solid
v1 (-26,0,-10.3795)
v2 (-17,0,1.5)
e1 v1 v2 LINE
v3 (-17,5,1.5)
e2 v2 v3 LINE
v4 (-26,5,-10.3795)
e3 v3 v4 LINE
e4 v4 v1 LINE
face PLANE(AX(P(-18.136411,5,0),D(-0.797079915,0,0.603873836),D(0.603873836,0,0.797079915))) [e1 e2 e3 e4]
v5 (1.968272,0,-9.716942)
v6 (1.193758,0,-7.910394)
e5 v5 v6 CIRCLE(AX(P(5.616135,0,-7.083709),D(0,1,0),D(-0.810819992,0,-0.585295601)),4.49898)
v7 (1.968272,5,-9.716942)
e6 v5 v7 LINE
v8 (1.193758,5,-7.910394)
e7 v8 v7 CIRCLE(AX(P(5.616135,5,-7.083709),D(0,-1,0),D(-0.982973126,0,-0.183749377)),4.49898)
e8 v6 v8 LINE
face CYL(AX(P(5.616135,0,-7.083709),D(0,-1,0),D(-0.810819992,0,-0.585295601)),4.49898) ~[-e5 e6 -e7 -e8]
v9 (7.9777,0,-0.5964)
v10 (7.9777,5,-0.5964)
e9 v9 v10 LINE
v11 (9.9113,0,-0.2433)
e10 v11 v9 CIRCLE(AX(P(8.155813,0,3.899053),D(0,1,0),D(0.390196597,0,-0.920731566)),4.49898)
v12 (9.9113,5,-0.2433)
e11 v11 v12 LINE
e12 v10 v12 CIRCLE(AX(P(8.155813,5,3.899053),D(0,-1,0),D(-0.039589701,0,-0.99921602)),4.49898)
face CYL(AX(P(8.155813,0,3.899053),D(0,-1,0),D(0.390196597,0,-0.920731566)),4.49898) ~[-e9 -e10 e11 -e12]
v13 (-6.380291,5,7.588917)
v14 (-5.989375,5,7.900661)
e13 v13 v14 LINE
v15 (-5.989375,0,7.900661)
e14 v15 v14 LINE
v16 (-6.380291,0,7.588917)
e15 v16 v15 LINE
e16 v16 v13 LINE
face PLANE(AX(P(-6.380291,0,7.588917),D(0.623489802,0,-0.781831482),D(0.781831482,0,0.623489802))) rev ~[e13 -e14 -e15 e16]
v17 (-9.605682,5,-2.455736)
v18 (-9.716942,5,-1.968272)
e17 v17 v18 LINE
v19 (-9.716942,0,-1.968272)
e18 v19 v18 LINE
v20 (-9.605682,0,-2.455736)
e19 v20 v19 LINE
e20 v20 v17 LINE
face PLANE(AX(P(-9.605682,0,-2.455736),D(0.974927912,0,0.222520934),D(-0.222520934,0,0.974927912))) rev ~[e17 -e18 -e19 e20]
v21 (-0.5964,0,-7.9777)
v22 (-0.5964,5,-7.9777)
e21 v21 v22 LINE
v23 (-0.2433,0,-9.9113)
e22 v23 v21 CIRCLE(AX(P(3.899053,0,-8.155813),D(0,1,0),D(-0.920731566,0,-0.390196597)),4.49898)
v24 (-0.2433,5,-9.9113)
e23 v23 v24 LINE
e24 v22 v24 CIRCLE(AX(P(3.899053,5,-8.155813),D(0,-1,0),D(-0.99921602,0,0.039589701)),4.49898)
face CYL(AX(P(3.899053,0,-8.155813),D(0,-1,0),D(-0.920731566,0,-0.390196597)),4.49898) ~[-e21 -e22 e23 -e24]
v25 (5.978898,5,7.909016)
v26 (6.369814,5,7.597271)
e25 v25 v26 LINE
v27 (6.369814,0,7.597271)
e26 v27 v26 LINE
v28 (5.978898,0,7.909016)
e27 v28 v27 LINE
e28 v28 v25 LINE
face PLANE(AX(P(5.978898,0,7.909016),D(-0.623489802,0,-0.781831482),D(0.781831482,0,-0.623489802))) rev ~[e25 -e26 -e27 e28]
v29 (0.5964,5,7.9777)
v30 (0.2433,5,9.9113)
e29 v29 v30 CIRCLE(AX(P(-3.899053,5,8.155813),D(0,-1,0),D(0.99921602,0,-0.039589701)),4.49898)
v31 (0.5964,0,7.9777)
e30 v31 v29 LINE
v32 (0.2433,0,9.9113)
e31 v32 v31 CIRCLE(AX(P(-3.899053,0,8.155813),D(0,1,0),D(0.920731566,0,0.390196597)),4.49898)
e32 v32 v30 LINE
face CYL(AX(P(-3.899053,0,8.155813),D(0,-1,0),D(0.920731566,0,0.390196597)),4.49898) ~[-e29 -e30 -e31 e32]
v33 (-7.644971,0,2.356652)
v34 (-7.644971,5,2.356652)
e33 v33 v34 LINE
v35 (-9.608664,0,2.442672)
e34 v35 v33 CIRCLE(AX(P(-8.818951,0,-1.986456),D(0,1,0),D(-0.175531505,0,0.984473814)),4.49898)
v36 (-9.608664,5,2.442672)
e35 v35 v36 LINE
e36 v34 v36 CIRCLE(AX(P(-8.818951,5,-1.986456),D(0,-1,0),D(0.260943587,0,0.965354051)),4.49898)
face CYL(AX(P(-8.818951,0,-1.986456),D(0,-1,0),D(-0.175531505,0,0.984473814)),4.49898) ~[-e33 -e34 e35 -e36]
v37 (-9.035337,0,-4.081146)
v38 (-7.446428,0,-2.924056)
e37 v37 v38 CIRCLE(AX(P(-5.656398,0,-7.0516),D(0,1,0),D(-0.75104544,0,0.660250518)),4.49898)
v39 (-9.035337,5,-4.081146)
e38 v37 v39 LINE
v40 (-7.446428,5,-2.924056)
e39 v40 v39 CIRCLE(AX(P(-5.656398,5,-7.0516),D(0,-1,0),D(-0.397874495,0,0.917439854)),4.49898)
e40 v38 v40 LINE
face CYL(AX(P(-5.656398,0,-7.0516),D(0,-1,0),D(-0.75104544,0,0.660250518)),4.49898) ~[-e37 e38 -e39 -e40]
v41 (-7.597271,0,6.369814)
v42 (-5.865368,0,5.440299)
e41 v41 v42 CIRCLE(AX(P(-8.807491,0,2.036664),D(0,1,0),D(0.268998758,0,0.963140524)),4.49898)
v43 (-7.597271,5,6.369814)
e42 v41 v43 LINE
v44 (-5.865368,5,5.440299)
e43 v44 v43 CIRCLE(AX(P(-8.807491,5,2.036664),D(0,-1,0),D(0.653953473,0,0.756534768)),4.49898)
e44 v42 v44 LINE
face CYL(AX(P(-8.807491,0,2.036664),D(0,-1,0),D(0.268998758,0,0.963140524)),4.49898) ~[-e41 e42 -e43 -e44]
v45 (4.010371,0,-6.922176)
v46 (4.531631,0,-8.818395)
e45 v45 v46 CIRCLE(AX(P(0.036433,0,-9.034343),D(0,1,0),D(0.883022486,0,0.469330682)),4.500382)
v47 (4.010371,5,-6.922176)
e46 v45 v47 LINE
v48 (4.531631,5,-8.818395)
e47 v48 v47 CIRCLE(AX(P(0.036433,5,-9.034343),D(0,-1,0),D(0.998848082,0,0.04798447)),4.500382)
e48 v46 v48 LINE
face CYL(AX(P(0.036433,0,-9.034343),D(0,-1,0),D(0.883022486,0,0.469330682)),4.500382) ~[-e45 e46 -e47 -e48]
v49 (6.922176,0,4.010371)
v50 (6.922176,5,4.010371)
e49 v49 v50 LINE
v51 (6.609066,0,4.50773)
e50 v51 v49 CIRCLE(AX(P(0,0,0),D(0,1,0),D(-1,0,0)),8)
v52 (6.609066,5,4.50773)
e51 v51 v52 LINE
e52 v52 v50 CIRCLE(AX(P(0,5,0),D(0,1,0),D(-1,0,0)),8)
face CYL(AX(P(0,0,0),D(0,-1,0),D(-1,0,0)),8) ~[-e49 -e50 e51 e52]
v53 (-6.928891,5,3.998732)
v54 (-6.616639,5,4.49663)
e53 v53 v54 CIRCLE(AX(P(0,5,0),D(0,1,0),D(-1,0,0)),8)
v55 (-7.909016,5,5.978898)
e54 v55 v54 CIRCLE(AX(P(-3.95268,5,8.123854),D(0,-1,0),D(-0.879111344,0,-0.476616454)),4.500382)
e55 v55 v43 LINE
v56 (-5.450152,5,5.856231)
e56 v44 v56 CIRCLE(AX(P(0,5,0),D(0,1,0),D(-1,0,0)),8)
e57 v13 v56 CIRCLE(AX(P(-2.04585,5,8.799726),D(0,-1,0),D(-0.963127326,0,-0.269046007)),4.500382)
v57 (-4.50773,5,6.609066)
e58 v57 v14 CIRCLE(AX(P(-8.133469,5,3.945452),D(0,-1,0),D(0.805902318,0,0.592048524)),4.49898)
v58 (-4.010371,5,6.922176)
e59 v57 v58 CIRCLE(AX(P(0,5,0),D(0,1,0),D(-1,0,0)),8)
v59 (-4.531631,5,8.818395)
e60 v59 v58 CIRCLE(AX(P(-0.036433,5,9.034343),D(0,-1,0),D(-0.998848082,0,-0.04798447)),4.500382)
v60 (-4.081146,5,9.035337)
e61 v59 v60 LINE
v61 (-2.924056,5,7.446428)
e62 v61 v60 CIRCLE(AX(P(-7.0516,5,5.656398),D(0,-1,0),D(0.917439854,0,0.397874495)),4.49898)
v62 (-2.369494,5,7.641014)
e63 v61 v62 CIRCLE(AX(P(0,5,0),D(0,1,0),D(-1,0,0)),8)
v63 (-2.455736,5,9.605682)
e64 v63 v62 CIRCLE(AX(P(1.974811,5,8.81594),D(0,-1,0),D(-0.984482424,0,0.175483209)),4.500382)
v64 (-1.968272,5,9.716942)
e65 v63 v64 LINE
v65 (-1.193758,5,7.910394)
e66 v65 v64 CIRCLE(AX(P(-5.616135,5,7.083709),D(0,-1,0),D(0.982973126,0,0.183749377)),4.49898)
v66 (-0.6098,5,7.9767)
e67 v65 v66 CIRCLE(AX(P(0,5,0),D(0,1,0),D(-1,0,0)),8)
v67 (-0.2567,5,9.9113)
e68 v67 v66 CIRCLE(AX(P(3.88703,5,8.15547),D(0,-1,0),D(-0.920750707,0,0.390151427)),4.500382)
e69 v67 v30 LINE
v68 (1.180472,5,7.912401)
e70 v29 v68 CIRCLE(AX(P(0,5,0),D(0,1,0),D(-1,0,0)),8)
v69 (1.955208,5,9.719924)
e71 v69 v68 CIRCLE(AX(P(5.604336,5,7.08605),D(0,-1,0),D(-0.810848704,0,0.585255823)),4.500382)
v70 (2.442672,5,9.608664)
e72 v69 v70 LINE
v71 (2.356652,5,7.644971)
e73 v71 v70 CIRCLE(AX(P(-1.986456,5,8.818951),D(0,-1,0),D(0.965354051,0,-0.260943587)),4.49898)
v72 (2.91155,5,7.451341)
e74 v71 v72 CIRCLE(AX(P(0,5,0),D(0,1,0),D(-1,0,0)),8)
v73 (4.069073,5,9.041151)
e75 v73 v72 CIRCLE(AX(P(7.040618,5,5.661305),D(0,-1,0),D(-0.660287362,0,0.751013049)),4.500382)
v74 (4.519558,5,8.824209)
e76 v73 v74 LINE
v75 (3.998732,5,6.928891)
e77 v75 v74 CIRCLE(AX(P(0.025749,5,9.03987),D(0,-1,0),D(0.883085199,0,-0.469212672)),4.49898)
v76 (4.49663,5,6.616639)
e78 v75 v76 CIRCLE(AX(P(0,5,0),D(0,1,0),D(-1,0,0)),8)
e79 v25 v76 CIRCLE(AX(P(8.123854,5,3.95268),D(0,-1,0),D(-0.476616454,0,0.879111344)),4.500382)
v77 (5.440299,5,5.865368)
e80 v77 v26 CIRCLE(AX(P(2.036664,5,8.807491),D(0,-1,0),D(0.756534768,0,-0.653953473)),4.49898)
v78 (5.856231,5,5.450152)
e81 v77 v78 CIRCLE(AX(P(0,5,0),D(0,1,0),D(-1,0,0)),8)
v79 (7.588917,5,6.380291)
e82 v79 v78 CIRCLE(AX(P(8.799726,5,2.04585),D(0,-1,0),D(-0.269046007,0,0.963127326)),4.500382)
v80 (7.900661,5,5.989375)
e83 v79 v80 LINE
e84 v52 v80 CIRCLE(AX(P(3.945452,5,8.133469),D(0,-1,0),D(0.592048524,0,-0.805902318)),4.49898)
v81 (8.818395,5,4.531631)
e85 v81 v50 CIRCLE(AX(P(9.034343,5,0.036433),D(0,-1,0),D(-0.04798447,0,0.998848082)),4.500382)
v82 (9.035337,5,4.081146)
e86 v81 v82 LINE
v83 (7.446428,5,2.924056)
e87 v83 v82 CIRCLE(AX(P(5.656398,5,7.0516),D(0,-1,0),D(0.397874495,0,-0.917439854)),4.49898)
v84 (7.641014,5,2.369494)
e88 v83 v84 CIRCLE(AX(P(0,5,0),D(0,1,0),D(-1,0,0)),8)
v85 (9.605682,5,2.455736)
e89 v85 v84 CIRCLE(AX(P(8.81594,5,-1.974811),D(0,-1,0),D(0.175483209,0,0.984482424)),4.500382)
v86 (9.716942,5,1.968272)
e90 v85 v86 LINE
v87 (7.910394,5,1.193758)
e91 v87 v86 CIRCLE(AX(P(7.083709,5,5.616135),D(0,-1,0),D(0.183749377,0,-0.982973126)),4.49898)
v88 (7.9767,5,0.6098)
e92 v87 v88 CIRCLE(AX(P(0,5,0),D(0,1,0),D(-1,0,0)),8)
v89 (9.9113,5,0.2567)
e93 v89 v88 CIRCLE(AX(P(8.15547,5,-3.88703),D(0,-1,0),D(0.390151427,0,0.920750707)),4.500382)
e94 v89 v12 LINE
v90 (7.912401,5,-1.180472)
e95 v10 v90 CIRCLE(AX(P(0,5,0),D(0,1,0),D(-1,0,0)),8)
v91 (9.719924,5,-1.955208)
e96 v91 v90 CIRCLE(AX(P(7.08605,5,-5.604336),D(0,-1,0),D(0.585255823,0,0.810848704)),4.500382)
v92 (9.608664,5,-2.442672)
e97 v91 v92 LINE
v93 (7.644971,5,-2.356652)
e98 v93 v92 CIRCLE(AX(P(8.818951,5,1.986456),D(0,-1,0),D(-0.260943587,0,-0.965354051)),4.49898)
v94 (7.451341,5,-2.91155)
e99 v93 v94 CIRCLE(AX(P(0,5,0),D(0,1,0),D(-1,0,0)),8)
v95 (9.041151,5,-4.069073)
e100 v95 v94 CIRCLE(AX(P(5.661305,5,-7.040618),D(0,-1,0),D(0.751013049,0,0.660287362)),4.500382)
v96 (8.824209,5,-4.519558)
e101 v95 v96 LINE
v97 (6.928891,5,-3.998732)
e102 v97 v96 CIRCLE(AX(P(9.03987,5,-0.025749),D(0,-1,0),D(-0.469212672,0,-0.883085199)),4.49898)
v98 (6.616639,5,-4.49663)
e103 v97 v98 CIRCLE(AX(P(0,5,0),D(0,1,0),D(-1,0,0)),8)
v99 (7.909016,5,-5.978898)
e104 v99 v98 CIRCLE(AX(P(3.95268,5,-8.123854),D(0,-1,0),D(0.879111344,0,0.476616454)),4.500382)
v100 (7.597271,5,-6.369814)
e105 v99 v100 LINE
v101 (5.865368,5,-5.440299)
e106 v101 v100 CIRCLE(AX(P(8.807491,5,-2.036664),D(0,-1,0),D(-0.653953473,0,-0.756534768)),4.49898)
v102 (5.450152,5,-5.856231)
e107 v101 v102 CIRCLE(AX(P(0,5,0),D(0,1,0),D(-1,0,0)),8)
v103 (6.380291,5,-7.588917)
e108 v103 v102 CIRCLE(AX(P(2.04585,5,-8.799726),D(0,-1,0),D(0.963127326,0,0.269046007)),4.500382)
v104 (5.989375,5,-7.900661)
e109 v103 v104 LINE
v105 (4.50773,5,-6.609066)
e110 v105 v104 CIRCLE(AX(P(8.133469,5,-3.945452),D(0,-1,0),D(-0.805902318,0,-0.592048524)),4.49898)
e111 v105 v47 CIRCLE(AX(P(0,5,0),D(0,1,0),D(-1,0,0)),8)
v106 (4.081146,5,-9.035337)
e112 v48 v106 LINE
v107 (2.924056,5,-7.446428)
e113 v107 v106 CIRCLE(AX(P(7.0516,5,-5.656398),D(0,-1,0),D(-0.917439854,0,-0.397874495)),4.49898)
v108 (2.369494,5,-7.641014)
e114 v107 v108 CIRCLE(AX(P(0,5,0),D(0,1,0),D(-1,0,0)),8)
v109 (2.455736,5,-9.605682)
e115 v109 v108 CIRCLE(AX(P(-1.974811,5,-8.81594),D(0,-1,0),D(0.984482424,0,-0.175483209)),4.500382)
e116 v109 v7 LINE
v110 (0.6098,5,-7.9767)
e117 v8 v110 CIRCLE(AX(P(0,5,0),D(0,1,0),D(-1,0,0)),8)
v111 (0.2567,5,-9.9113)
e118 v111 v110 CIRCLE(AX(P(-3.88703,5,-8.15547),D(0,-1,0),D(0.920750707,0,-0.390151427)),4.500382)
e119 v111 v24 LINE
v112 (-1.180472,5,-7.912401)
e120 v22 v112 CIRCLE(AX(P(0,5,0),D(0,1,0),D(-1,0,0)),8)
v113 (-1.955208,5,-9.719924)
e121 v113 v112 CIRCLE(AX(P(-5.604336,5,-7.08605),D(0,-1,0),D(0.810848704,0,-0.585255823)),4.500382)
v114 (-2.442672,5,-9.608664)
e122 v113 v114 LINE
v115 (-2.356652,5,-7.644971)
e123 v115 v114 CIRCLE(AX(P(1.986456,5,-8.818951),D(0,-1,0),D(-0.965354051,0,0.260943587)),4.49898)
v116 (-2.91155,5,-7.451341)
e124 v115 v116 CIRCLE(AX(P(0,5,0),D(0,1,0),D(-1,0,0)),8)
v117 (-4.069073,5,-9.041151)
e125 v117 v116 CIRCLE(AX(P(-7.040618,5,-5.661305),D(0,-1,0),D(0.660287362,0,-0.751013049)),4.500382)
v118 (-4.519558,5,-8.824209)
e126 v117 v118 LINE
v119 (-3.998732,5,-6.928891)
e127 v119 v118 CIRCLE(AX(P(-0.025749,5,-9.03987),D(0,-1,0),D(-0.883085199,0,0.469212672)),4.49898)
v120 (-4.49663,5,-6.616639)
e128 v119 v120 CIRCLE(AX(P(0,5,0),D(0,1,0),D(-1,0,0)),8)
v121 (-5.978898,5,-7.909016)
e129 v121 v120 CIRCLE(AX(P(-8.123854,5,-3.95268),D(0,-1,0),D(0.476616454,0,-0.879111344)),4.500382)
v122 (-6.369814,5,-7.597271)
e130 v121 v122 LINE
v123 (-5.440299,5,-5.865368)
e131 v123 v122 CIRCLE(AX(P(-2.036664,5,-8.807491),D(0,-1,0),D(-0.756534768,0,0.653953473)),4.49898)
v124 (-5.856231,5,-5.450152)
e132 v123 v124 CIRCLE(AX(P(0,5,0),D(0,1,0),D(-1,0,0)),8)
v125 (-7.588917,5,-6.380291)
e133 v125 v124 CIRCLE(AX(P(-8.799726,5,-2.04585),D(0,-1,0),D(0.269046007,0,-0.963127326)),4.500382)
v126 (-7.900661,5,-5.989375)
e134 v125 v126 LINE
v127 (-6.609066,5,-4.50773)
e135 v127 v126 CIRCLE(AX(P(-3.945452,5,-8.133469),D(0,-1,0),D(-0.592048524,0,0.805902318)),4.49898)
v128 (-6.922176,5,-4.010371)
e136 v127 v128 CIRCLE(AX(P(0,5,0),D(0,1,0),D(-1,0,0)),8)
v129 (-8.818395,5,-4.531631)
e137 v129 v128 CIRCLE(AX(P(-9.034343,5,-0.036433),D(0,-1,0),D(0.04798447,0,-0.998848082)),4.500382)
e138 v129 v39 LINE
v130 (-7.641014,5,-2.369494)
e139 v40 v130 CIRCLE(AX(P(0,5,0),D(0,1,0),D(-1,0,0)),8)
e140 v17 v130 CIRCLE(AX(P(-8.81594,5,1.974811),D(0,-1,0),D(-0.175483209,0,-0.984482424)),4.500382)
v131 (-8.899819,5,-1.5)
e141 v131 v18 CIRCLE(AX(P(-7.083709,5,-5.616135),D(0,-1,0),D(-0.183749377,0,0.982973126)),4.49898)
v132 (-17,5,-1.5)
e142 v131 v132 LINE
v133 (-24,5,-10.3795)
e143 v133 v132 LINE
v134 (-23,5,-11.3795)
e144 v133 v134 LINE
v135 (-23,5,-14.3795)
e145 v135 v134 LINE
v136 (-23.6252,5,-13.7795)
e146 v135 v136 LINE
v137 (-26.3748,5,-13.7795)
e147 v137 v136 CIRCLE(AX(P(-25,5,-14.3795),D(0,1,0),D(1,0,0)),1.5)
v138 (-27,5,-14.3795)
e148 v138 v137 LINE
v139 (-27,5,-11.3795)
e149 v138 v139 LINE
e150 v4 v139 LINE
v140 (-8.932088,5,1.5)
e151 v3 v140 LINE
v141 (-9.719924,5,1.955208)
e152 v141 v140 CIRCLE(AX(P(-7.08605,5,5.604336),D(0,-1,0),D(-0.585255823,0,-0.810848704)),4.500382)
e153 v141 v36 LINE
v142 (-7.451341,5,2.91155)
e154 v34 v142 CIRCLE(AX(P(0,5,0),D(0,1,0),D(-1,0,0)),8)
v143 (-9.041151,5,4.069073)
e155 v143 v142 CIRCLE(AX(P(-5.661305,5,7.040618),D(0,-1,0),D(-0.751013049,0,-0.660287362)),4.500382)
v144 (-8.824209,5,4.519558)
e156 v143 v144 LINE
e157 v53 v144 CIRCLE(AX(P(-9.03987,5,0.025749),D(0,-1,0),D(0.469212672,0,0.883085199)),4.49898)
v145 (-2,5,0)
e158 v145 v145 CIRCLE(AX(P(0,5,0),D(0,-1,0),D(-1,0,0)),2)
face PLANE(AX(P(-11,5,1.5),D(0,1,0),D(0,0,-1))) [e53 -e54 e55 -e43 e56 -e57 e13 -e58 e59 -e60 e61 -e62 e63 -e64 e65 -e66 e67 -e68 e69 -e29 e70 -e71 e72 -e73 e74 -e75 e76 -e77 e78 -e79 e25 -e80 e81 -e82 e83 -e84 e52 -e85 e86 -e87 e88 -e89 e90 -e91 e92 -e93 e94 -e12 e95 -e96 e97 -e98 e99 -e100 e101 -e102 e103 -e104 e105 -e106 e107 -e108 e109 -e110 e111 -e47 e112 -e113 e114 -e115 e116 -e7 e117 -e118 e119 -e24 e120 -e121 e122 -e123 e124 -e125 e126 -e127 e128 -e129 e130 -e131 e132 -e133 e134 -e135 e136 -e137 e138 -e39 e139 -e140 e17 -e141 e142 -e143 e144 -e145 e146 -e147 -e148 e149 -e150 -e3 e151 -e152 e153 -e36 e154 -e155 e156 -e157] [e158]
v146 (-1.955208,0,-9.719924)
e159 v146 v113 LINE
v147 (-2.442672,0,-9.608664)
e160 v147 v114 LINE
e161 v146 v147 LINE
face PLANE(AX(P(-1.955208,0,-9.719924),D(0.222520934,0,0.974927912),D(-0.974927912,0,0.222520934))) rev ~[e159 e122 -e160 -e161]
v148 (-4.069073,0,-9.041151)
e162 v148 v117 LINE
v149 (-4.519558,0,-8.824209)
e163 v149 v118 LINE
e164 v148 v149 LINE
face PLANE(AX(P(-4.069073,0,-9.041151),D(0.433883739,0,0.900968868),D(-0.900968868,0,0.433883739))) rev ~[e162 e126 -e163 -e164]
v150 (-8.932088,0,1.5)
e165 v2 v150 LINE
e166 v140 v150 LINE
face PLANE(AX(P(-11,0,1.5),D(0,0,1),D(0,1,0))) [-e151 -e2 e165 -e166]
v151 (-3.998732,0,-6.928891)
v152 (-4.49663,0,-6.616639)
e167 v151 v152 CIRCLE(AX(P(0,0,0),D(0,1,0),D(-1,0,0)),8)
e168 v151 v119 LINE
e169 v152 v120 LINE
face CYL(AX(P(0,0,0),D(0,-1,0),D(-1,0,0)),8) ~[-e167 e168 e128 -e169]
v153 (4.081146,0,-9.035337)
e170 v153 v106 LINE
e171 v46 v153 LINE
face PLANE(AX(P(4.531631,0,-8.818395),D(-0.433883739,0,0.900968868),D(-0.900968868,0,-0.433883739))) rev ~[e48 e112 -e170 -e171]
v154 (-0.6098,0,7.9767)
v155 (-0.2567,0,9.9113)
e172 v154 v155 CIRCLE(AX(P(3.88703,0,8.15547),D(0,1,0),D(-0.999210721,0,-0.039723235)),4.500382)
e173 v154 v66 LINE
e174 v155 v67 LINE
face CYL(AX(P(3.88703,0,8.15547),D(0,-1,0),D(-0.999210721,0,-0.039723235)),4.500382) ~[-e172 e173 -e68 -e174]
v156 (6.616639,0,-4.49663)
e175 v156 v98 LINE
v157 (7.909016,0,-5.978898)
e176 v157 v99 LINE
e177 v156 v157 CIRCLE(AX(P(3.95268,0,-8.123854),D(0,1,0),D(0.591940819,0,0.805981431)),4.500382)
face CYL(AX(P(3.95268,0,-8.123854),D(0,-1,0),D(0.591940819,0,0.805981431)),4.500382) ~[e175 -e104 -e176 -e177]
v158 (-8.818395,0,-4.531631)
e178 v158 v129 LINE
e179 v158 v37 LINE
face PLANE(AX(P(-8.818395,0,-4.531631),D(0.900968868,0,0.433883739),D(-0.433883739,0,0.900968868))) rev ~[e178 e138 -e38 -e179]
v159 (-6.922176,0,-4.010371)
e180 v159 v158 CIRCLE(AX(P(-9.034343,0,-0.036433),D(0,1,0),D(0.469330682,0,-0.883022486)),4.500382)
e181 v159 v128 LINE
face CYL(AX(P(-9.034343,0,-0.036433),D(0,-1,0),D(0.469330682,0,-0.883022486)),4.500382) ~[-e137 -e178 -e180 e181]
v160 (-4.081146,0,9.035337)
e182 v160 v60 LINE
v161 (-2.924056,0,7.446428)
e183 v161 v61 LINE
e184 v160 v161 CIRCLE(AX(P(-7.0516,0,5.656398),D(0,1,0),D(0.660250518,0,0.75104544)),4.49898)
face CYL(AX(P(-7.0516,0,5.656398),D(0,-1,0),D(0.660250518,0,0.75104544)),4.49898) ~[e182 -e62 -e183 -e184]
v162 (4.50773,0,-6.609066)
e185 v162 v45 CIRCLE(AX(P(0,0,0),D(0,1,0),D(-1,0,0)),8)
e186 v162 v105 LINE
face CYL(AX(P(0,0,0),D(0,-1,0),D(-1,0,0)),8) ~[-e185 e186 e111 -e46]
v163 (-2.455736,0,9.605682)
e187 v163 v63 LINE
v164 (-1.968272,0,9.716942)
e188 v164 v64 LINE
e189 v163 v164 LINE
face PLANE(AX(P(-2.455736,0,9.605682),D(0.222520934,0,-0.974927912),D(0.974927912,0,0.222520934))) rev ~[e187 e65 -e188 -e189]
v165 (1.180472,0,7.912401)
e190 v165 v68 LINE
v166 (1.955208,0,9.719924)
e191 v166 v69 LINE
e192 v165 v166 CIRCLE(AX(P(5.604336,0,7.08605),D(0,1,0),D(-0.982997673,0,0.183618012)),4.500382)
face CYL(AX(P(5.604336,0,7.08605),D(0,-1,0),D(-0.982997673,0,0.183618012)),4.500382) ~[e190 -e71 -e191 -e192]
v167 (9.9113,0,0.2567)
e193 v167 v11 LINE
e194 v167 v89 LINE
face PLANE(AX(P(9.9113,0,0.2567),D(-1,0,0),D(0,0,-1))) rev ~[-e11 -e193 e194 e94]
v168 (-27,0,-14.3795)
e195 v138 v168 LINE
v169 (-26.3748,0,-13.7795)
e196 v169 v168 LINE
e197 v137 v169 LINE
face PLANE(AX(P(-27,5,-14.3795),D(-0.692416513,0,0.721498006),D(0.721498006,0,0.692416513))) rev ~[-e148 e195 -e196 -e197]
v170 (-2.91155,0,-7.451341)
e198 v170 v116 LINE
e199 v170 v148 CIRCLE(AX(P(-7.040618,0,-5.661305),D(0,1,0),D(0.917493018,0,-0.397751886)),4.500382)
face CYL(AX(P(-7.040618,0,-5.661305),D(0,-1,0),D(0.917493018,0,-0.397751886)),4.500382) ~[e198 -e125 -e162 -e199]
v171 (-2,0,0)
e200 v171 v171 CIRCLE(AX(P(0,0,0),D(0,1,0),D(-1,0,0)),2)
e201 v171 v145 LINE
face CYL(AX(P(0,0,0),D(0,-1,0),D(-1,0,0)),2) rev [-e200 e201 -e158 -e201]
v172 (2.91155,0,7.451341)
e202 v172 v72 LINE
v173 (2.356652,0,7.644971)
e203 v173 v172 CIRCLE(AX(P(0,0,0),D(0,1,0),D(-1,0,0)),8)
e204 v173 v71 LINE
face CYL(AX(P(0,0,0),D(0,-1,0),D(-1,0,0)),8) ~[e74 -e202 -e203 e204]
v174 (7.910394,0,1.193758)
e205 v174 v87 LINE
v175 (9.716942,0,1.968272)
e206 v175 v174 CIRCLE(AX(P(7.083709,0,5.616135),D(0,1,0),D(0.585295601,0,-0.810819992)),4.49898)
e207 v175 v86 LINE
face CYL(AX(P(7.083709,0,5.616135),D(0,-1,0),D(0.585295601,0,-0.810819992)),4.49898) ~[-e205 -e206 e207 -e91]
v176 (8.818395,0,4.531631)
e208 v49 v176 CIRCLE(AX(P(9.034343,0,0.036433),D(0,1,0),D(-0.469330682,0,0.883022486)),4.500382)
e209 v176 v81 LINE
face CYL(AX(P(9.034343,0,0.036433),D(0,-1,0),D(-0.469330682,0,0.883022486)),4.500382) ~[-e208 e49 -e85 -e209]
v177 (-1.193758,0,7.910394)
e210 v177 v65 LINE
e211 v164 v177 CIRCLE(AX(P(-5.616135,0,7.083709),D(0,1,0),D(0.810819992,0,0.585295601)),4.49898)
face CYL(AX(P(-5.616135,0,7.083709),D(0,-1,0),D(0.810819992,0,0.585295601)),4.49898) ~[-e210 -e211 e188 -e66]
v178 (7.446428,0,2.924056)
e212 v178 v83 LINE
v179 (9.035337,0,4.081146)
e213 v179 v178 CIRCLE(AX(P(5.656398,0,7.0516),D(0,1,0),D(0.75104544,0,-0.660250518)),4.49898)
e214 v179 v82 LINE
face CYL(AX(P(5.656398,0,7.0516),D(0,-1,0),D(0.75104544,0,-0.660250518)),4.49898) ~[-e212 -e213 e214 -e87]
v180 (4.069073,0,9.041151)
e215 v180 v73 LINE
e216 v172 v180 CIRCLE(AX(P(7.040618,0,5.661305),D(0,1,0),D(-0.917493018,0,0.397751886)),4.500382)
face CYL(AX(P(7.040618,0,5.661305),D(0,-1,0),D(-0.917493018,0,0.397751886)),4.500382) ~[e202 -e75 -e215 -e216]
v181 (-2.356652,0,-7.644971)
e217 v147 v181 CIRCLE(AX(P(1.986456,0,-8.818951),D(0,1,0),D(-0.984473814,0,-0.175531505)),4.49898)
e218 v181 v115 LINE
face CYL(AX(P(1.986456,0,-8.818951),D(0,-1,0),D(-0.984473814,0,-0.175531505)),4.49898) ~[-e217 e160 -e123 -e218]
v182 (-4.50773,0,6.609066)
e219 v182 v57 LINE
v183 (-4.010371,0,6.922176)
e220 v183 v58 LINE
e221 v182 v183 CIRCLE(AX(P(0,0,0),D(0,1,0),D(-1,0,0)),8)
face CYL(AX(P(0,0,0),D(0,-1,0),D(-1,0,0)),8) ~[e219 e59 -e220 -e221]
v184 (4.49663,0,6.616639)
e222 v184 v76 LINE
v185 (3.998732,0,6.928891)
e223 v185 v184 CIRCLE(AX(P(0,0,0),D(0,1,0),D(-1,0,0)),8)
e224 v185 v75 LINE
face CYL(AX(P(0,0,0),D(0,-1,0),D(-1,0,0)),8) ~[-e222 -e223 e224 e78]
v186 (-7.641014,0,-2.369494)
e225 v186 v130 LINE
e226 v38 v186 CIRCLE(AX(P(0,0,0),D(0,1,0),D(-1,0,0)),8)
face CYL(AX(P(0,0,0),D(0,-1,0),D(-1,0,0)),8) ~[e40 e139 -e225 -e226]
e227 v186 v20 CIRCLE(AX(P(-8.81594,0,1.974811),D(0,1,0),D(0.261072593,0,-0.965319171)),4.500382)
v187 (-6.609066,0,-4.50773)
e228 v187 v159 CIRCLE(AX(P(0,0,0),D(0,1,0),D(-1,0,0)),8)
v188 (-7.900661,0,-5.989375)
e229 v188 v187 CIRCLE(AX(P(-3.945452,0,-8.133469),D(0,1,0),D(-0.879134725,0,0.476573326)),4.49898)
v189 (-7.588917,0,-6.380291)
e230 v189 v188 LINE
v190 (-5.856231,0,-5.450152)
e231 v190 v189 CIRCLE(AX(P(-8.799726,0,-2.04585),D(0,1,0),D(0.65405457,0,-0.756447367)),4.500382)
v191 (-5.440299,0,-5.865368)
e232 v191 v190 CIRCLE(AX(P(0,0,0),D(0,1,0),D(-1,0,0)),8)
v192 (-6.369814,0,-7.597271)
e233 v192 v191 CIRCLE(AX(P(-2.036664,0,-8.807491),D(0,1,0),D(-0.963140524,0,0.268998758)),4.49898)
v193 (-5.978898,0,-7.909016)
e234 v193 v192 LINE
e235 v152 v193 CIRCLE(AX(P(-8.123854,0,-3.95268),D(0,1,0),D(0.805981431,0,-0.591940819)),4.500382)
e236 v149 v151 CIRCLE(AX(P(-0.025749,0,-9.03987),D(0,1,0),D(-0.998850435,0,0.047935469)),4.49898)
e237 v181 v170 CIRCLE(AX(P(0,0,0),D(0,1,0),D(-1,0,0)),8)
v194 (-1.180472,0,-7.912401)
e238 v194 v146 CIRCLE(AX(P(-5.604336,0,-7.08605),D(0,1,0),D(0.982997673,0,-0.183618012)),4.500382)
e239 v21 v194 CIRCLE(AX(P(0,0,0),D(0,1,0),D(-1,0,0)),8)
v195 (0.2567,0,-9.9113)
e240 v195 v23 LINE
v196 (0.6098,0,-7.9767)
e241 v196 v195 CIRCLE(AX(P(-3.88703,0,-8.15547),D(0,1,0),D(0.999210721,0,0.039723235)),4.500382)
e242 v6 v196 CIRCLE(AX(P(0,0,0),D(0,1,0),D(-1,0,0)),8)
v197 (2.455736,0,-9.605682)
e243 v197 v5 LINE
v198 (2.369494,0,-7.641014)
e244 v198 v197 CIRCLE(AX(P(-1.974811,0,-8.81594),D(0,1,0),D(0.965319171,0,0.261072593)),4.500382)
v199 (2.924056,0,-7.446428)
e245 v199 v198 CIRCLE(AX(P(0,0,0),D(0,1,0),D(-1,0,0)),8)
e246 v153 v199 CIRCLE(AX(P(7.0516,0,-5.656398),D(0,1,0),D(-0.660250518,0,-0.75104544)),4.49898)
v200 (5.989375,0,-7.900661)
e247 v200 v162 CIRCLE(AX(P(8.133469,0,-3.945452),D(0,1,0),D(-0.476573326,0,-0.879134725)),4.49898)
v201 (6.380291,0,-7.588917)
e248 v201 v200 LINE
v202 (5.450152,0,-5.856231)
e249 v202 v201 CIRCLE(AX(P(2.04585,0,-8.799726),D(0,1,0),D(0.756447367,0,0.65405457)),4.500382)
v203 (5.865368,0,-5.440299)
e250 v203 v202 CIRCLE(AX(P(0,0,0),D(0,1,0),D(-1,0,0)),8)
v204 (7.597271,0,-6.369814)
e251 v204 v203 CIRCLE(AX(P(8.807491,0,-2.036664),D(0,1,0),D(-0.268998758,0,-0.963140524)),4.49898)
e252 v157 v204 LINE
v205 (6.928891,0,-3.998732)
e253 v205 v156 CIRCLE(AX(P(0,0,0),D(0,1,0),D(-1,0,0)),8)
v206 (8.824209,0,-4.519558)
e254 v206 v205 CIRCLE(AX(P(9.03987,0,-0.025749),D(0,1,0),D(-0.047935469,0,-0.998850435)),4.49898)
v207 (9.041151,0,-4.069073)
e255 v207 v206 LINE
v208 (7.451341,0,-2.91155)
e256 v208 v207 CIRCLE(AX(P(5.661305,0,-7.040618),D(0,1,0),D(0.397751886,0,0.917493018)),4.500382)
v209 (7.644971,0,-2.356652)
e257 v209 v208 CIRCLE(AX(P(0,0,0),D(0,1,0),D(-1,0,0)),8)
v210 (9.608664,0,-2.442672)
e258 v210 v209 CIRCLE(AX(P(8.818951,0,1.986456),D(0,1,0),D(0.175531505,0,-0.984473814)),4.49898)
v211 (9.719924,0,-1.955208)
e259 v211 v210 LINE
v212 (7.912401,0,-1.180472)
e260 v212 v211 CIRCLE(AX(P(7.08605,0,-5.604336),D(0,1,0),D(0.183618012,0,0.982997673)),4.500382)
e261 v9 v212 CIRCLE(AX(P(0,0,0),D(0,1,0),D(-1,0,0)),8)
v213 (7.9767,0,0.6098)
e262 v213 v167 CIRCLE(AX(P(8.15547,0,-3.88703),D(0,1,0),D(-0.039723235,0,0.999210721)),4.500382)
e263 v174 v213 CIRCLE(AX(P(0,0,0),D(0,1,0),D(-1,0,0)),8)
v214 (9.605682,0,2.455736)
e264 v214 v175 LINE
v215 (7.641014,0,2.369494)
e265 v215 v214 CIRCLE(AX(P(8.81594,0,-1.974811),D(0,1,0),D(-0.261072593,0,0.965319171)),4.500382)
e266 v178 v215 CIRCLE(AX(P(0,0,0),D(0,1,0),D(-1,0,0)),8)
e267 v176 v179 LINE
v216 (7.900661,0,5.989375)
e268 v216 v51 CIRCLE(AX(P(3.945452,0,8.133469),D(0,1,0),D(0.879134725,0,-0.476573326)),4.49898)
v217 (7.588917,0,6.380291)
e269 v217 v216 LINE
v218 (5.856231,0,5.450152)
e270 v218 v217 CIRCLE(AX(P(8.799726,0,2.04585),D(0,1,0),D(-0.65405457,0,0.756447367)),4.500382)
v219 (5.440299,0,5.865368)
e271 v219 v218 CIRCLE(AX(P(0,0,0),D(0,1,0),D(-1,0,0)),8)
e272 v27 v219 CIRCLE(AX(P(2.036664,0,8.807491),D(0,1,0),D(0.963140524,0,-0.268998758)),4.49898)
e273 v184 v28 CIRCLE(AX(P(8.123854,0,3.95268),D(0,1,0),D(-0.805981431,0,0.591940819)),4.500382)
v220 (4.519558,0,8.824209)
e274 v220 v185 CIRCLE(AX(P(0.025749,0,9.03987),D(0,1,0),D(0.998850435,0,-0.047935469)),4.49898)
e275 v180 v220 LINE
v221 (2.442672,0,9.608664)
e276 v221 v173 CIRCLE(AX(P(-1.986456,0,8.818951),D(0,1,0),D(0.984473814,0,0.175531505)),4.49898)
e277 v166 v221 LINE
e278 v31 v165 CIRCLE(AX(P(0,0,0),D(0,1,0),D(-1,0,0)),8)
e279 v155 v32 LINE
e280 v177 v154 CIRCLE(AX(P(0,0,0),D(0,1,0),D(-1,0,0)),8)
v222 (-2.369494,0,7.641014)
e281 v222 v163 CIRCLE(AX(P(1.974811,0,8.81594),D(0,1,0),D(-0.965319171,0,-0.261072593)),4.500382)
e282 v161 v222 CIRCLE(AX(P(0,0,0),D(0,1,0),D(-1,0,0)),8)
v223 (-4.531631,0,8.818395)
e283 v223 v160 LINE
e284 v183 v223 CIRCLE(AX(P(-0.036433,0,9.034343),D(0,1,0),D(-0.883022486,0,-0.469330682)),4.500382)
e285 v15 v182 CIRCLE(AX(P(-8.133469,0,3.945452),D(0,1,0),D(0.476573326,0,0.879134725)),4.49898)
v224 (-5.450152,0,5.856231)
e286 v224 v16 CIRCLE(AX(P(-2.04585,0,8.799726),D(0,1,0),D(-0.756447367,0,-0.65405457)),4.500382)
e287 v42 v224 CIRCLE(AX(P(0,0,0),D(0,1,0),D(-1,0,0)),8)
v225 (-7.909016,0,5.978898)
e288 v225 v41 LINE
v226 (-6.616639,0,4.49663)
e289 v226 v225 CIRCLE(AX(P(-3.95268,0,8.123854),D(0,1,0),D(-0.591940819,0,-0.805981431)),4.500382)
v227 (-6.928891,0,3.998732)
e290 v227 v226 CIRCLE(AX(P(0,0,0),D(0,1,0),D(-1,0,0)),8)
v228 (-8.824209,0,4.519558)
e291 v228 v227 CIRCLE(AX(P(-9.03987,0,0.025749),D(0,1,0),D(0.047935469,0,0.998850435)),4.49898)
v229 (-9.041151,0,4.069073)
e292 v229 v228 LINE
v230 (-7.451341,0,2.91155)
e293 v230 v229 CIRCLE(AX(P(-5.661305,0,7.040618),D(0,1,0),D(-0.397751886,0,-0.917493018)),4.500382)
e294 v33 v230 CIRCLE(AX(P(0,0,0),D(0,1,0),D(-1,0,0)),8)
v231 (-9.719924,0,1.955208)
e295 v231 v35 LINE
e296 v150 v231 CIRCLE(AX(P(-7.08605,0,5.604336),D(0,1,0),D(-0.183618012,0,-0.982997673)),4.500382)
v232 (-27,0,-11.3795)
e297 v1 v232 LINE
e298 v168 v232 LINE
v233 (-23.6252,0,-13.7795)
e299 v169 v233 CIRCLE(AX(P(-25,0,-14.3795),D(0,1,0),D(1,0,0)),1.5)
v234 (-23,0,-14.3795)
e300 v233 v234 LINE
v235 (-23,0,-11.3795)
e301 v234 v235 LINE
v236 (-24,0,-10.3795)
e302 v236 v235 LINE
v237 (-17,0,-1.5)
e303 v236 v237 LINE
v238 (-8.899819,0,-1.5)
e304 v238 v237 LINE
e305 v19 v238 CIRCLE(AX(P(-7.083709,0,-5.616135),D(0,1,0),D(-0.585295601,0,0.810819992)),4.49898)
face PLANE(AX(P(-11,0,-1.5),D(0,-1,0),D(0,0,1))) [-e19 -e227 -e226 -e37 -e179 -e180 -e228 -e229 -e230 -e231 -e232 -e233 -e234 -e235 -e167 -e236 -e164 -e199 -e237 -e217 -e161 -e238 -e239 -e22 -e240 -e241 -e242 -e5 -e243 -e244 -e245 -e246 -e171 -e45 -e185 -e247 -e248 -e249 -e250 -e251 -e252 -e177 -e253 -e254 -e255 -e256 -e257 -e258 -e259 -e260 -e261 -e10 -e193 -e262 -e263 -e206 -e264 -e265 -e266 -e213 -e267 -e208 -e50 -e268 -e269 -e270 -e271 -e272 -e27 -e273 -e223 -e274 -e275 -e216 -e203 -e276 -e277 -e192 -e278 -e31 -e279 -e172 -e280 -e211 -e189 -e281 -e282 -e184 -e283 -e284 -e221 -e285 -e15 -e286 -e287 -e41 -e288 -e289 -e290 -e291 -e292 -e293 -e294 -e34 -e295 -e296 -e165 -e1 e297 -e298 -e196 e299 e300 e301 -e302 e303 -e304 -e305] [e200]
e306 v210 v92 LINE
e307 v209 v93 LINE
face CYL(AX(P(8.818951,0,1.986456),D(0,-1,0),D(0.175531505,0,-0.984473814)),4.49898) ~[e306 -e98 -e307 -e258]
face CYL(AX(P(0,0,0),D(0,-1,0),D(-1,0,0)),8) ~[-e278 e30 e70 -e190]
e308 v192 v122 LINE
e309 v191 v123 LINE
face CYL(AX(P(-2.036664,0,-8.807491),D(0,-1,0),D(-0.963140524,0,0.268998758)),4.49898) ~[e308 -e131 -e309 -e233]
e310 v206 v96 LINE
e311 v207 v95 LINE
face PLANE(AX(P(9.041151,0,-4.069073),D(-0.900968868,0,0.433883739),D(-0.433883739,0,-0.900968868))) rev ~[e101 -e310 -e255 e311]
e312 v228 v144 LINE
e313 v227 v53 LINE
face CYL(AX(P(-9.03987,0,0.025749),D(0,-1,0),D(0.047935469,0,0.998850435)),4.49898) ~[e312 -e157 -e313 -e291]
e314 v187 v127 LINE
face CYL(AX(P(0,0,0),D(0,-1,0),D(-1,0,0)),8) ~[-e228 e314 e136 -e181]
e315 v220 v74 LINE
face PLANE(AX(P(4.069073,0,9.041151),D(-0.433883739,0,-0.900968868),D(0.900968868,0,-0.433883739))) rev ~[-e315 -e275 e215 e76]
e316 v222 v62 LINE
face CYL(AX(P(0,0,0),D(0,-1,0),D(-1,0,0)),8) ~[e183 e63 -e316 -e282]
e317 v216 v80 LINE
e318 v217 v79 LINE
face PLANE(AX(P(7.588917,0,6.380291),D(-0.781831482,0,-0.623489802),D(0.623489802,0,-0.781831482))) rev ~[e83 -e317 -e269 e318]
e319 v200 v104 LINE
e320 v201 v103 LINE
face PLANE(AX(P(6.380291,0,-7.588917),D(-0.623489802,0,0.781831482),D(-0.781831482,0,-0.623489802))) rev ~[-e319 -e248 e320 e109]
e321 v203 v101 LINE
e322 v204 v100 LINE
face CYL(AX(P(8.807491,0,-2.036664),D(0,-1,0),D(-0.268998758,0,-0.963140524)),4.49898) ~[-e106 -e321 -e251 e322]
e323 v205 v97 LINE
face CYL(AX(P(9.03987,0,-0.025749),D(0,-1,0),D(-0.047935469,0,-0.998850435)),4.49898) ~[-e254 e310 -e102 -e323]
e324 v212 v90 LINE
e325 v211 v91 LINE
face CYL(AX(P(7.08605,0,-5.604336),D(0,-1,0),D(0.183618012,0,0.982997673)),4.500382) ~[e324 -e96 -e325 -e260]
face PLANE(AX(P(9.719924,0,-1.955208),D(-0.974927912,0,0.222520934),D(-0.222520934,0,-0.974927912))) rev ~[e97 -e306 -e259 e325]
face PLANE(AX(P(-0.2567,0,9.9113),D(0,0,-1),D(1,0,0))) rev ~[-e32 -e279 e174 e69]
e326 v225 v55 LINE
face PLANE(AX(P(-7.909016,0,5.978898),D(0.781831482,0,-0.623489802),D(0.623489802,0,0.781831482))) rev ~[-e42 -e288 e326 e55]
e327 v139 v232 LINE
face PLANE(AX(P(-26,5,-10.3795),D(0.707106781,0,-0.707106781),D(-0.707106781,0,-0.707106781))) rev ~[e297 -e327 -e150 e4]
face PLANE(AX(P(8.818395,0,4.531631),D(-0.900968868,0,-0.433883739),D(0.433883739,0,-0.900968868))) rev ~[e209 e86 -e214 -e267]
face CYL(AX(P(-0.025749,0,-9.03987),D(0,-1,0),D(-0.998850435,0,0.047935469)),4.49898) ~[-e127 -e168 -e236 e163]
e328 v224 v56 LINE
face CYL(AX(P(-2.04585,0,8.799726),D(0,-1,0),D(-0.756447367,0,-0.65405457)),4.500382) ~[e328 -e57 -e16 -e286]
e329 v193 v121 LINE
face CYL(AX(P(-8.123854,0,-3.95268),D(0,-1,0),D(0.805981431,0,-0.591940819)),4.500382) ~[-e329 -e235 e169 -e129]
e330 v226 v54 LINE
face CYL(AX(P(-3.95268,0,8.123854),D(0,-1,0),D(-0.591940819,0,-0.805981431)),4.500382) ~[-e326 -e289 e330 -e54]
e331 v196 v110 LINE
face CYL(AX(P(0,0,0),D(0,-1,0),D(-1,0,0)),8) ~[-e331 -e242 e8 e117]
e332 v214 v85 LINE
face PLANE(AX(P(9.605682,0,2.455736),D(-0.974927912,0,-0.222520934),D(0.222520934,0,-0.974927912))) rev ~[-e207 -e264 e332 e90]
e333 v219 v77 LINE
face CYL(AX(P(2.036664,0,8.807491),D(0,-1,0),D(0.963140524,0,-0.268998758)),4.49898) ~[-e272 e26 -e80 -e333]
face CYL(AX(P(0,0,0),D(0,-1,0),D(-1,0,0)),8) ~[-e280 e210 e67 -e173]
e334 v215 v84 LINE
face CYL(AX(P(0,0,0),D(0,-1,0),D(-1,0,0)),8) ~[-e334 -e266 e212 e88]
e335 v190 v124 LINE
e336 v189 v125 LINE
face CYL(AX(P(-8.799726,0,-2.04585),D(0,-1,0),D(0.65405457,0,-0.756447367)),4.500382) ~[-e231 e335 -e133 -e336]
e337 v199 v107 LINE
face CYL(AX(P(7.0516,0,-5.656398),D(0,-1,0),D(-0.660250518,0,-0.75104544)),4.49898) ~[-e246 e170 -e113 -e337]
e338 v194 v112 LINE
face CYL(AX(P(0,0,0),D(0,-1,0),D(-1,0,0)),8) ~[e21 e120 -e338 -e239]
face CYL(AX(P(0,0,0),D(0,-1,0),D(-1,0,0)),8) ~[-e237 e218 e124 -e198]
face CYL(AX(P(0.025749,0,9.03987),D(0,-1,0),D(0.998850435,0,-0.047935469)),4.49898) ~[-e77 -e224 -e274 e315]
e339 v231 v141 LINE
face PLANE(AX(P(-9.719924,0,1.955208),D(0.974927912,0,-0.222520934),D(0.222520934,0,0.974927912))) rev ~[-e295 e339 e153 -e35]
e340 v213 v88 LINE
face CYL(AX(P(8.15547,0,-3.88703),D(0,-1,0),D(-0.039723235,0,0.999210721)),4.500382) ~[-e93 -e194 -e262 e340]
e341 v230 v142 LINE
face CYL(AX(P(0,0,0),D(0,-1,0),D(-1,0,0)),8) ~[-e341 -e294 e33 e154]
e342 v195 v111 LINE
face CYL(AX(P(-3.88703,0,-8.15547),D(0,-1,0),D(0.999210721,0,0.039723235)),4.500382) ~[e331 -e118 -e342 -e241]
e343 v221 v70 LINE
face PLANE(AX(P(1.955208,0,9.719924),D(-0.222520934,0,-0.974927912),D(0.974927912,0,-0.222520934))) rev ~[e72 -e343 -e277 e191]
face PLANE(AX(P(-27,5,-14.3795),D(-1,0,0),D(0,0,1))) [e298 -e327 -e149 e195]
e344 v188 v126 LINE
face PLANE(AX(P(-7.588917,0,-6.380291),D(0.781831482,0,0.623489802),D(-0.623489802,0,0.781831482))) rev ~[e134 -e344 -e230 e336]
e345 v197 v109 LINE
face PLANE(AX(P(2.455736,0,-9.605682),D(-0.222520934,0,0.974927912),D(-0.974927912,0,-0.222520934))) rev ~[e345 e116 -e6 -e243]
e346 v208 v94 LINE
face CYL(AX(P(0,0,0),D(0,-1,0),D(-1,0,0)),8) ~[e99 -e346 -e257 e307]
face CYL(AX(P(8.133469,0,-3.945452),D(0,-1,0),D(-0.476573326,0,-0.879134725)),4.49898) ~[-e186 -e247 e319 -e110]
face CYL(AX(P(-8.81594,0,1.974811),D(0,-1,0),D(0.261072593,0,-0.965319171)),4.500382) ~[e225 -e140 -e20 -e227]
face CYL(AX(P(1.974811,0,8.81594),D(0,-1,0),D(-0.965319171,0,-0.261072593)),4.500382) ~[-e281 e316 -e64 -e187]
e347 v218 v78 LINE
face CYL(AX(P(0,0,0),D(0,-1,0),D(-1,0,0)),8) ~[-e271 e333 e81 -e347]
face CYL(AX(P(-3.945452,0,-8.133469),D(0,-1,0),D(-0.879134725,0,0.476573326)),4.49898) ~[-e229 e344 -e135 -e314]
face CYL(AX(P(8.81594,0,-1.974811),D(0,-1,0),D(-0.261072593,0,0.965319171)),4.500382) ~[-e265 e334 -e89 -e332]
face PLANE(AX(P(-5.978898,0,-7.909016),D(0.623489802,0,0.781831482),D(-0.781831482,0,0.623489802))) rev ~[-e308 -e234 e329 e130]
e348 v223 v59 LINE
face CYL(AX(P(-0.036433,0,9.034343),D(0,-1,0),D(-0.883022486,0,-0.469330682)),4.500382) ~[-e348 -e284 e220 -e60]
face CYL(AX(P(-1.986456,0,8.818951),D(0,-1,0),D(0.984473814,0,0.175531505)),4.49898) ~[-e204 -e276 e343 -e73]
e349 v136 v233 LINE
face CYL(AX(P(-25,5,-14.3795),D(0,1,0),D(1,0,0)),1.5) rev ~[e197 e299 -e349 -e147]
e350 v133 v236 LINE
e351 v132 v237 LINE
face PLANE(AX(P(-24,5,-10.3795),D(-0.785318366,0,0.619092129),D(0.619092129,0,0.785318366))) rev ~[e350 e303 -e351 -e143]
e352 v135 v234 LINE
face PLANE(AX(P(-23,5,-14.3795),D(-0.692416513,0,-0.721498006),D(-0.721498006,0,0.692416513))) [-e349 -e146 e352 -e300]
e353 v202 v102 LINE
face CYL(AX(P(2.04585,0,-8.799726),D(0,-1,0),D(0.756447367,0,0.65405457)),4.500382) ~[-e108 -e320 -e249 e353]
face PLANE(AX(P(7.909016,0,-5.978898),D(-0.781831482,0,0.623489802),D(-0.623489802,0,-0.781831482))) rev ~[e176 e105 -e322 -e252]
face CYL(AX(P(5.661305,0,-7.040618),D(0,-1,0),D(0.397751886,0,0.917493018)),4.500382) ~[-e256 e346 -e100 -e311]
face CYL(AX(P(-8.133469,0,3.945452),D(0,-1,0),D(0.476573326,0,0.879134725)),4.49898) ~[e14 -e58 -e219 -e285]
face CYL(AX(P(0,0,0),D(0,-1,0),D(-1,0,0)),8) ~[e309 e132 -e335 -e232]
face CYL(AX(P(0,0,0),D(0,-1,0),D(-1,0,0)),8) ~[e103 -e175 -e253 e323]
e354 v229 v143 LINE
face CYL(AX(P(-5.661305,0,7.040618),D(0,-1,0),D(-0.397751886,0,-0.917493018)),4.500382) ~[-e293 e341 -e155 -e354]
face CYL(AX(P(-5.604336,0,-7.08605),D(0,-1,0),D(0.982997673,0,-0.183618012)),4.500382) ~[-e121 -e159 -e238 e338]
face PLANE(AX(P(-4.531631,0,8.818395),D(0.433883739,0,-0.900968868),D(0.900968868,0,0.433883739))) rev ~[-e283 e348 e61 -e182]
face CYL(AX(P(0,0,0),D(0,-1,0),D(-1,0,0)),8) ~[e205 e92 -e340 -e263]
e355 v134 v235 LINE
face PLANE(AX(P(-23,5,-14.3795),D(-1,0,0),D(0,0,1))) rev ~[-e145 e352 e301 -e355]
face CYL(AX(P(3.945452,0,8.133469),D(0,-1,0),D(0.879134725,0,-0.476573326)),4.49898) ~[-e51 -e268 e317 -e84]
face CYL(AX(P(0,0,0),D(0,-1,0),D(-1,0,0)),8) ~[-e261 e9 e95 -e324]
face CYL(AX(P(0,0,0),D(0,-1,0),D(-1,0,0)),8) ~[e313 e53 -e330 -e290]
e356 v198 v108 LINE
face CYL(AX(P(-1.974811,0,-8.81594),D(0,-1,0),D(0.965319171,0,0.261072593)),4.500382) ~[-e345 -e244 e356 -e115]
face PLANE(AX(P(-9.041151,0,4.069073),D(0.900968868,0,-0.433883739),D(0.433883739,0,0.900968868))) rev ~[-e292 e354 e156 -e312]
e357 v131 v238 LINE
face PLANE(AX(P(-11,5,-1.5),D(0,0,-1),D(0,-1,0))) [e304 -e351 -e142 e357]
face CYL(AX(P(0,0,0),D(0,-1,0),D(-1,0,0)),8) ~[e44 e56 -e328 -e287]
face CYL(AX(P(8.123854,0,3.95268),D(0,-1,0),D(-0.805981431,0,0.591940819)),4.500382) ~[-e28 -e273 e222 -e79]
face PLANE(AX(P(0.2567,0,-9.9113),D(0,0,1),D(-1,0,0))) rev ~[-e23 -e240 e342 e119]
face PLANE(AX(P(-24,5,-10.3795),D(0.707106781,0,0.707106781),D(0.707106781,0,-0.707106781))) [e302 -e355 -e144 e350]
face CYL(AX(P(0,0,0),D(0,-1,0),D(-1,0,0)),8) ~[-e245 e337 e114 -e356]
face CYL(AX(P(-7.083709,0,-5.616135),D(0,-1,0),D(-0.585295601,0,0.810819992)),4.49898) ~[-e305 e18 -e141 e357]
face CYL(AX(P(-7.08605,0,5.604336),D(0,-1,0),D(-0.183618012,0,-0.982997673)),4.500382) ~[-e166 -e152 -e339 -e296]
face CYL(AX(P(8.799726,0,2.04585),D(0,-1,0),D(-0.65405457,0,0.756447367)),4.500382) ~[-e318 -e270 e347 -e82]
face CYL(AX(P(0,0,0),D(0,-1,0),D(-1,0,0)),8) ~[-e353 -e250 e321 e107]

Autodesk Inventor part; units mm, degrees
ref_plane "YZ Plane" through (0, 0, 0) normal (1, 0, 0) x (0, 1, 0)
ref_plane "XZ Plane" through (0, 0, 0) normal (0, 1, 0) x (-1, 0, 0)
ref_plane "XY Plane" through (0, 0, 0) normal (0, 0, 1) x (1, 0, 0)
sketch "Sketch1" plane through (0, 0, 0) normal (0, 1, 0) x (-1, 0, 0)
  circle A0 centre (0, 0) radius 8
  circle A1 centre (0, 0) radius 2
  line L0 (7.9113, 0.5933) -> (7.9113, -0.6067)
  line L1 (9.9113, -0.2567) -> (9.9113, 0.2433)
  line L2 (7.6237, -0.0067) -> (9.0479, -0.0067) construction
  arc A2 (9.9113, 0.2433) -> (7.9113, 0.5933) centre (8.1555, -3.9001) ccw construction
  arc A3 (7.9113, -0.6067) -> (9.9113, -0.2567) centre (8.1555, 3.8866) ccw construction
  arc A4 (9.9113, 0.2433) -> (7.9113, 0.5933) centre (8.1555, -3.9001) ccw construction
  arc A5 (9.9113, 0.2433) -> (7.9777, 0.5964) centre (8.1555, -3.9001) ccw
  arc A6 (7.9767, -0.6098) -> (9.9113, -0.2567) centre (8.1555, 3.8866) ccw
  line L3 (9.4, 0) -> (9.4, -0.4379)
  line L4 (9.4, 0) -> (9.4, 0.4244)
  arc A7 (5.296, -1.8919) -> (5.296, 1.8784) centre (4.6281, -0.0067) ccw
  circle A8 centre (0, 0) radius 8
  dimension "d0" = 16
  dimension "d1" = 4
  dimension "d2" = 0.25
  dimension "d3" = 0.25
  dimension "d4" = 0.6
  dimension "d7" = 1.2
  dimension "d8" = 4.5
  dimension "d10" = 2
extrude "Extrusion1" add sketch "Sketch1" along normal blind 5
pattern_circular "Circular Pattern1" count 28 over 360 about axis through (0, 0, 0) along (0, 1, 0) of "Extrusion1"
sketch "Sketch2" plane through (0, 5, 0) normal (0, 1, 0) x (1, 0, 0)
  circle A0 centre (-4, 0) radius 1.5
  line L0 (0, 0) -> (-25, 0)
  line L1 (-25, 0) -> (-25, 28.759)
  line L2 (-25, 28.759) -> (0, 28.759)
  line L3 (0, 28.759) -> (0, 0)
  line L4 (0, 0) -> (-25, 0)
  line L5 (-25, 0) -> (-25, 14.3795)
  line L6 (-25, 14.3795) -> (0, 14.3795)
  line L7 (0, 14.3795) -> (0, 0)
  line L8 (-4, -1.5) -> (-25, -1.5)
  line L9 (-25, -1.5) -> (-25, 1.5)
  line L10 (-25, 1.5) -> (-4, 1.5)
  line L11 (-4, 1.5) -> (-4, -1.5)
  line L12 (-27, -1.5) -> (-23, -1.5)
  line L13 (-23, -1.5) -> (-23, 14.3795)
  line L14 (-23, 14.3795) -> (-27, 14.3795)
  line L15 (-27, 14.3795) -> (-27, -1.5)
  circle A1 centre (-25, 14.3795) radius 1
  line L16 (-27, -1.5) -> (-23, -1.5)
  line L17 (-23, -1.5) -> (-23, 12.5)
  line L18 (-23, 12.5) -> (-27, 12.5)
  line L19 (-27, 12.5) -> (-27, -1.5)
  line L20 (-27, 12.5) -> (-26, 14.3795)
  line L21 (-23, 12.5) -> (-24, 14.3795)
  arc A2 (-7.9777, -0.5964) -> (-7.9124, -1.1805) centre (0, 0) ccw projected
  line L22 (-7.9124, -1.1805) -> (-7.9777, -0.5964)
  line L23 (-25, -1.5) -> (-11, -1.5)
  line L24 (-11, -1.5) -> (-11, 1.5)
  line L25 (-11, 1.5) -> (-25, 1.5)
  line L26 (-25, 1.5) -> (-25, -1.5)
  point P0 (-23, 1.5)
  dimension "d16" = 3
  dimension "d17" = 25
  dimension "d18" = 28.759
  dimension "d19" = 4
  dimension "d20" = 2
  dimension "d21" = 14
  dimension "d22" = 14
extrude "Extrusion2" add sketch "Sketch2" against normal blind 5 contours L24 L0 L13 L10 | L8 L13 L0 L24 | L13 L0 L1 L10 | L10 L1 L18 L13 | L8 L9 L0 L13 | L1 L9 L12 L15 L18 | L18 L1 A1 L21 | L18 L20 A1 L1
sketch "Sketch3" plane through (-11, 5, 1.5) normal (1, 0, 0) x (0, 0, -1)
  line L0 (0, 0) -> (3, 0) projected
  line L1 (3, 0) -> (3, -5) projected
  line L2 (0, 0) -> (3, 0)
  line L3 (3, 0) -> (3, -5)
  line L4 (3, -5) -> (0, -5)
  line L5 (0, -5) -> (0, 0)
  point P0 (1.5, -5)
  dimension "d25" = 5
extrude "Extrusion3" add sketch "Sketch3" along normal blind 5
sketch "Sketch5" plane through (0, 5, 0) normal (0, 1, 0) x (1, 0, 0)
  line L0 (-27, -1.5) -> (-8.9321, -1.5) projected
  line L1 (-23, 1.5) -> (-8.8997, 1.5) projected
  line L2 (-27, -1.5) -> (-17, -1.5)
  line L3 (-17, -1.5) -> (-17, 1.5)
  line L4 (-17, 1.5) -> (-27, 1.5)
  line L5 (-27, 1.5) -> (-27, -1.5)
  line L6 (-17, 1.5) -> (-23, 12.5)
  line L7 (-27, -1.5) -> (-27, 12.5) projected
  line L8 (-23, 12.5) -> (-27, 12.5)
  line L9 (-17, 1.5) -> (-20, 1.5)
  line L10 (-20, 1.5) -> (-27, 12.5)
  line L11 (-28.8478, -8.4167) -> (-17, -8.4167)
  line L12 (-17, -8.4167) -> (-17, 15.7727)
  line L13 (-17, 15.7727) -> (-28.8478, 15.7727)
  line L14 (-28.8478, 15.7727) -> (-28.8478, -8.4167)
  point P0 (0, 0)
  dimension "d29" = 10
  dimension "d30" = 3
extrude "Extrusion4" cut sketch "Sketch5" against normal blind 9.05
sketch "Sketch7" plane through (0, 5, 0) normal (0, 1, 0) x (1, 0, 0)
  line L0 (0, 0) -> (-25, 0)
  line L1 (-25, 0) -> (-25, 28.759)
  line L2 (-25, 28.759) -> (0, 28.759)
  line L3 (0, 28.759) -> (0, 0)
  line L4 (-25, 0) -> (0, 0)
  line L5 (0, 0) -> (0, 14.3795)
  line L6 (0, 14.3795) -> (-25, 14.3795)
  line L7 (-25, 14.3795) -> (-25, 0)
  circle A0 centre (-25, 14.3795) radius 1
  line L8 (-17, -1.5) -> (-17, 1.5) projected
  circle A1 centre (-17, 0) radius 1.5
  line L9 (-25, 14.3795) -> (-26, 14.3795)
  line L10 (-26, 14.3795) -> (-26, 10.3795)
  line L11 (-26, 10.3795) -> (-25, 10.3795)
  line L12 (-25, 10.3795) -> (-25, 14.3795)
  line L13 (-25, 10.3795) -> (-24, 10.3795)
  line L14 (-24, 10.3795) -> (-24, 14.3795)
  line L15 (-24, 14.3795) -> (-25, 14.3795)
  line L16 (-25, 14.3795) -> (-25, 10.3795)
  line L17 (-26, 10.3795) -> (-17, -1.5)
  line L18 (-24, 10.3795) -> (-17, 1.5)
  dimension "d45" = 2
  dimension "d43" = 25
  dimension "d44" = 28.759
  dimension "d46" = 4
extrude "Extrusion5" add sketch "Sketch7" against normal blind 5 contours L8 L17 L0 | L0 L17 A1 L8 | A1 L17 L1 L13 L18 | L14 L13 L1 A0 | L1 L11 L10 A0 | L17 L11 L1
sketch "Sketch8" plane through (0, 5, 0) normal (0, 1, 0) x (1, 0, 0)
  line L0 (-26, 10.3795) -> (-26, 14.3795) projected
  line L1 (-26, 14.3795) -> (-27, 14.3795)
  line L2 (-27, 14.3795) -> (-27, 11.3795)
  line L3 (-27, 11.3795) -> (-26, 11.3795)
  line L4 (-26, 11.3795) -> (-26, 14.3795)
  line L5 (-26, 10.3795) -> (-27, 11.3795)
  arc A0 (-26, 14.3795) -> (-24, 14.3795) centre (-25, 14.3795) ccw projected
  line L6 (-24, 14.3795) -> (-23, 14.3795)
  line L7 (-23, 14.3795) -> (-23, 11.3795)
  line L8 (-23, 11.3795) -> (-24, 11.3795)
  line L9 (-24, 11.3795) -> (-24, 14.3795)
  line L10 (-17, 1.5) -> (-24, 10.3795) projected
  line L11 (-24, 10.3795) -> (-23, 11.3795)
  line L12 (-24, 10.3795) -> (-24, 14.3795) projected
  line L13 (-24, 11.3795) -> (-24, 10.3795)
  point P0 (0, 0)
  dimension "d49" = 1
  dimension "d50" = 3
  dimension "d51" = 1
  dimension "d52" = 3
extrude "Extrusion6" add sketch "Sketch8" against normal blind 5
sketch "Sketch9" plane through (0, 5, 0) normal (0, 1, 0) x (1, 0, 0)
  arc A0 (-26, 14.3795) -> (-24, 14.3795) centre (-25, 14.3795) ccw projected
  circle A1 centre (-25, 14.3795) radius 2
  circle A2 centre (-25, 14.3795) radius 1.5
  line L0 (-27, 11.3795) -> (-26, 10.3795) projected
  line L1 (-23, 11.3795) -> (-23, 14.3795) projected
  line L2 (-27, 11.3795) -> (-23, 11.3795)
  line L3 (-23, 11.3795) -> (-23, 13.7795)
  line L4 (-23, 13.7795) -> (-27, 13.7795)
  line L5 (-27, 13.7795) -> (-27, 11.3795)
  line L6 (-27, 14.3795) -> (-26.3748, 13.7795)
  line L7 (-23, 14.3795) -> (-24, 14.3795) projected
  line L8 (-23, 14.3795) -> (-23.6252, 13.7795)
  point P0 (0, 0)
  point P1 (-25.8, 13.7795)
  point P2 (-24.2, 13.7795)
  dimension "d55" = 4
  dimension "d56" = 3
  dimension "d57" = 2.4
extrude "Extrusion7" cut sketch "Sketch9" against normal through all contours L4 A2 L7 A0 | A0 L4 A2 | A0 L7 A2 L4 | L6 A1 L7 A2 | A2 L7 L8
properties part number "New Gear"
